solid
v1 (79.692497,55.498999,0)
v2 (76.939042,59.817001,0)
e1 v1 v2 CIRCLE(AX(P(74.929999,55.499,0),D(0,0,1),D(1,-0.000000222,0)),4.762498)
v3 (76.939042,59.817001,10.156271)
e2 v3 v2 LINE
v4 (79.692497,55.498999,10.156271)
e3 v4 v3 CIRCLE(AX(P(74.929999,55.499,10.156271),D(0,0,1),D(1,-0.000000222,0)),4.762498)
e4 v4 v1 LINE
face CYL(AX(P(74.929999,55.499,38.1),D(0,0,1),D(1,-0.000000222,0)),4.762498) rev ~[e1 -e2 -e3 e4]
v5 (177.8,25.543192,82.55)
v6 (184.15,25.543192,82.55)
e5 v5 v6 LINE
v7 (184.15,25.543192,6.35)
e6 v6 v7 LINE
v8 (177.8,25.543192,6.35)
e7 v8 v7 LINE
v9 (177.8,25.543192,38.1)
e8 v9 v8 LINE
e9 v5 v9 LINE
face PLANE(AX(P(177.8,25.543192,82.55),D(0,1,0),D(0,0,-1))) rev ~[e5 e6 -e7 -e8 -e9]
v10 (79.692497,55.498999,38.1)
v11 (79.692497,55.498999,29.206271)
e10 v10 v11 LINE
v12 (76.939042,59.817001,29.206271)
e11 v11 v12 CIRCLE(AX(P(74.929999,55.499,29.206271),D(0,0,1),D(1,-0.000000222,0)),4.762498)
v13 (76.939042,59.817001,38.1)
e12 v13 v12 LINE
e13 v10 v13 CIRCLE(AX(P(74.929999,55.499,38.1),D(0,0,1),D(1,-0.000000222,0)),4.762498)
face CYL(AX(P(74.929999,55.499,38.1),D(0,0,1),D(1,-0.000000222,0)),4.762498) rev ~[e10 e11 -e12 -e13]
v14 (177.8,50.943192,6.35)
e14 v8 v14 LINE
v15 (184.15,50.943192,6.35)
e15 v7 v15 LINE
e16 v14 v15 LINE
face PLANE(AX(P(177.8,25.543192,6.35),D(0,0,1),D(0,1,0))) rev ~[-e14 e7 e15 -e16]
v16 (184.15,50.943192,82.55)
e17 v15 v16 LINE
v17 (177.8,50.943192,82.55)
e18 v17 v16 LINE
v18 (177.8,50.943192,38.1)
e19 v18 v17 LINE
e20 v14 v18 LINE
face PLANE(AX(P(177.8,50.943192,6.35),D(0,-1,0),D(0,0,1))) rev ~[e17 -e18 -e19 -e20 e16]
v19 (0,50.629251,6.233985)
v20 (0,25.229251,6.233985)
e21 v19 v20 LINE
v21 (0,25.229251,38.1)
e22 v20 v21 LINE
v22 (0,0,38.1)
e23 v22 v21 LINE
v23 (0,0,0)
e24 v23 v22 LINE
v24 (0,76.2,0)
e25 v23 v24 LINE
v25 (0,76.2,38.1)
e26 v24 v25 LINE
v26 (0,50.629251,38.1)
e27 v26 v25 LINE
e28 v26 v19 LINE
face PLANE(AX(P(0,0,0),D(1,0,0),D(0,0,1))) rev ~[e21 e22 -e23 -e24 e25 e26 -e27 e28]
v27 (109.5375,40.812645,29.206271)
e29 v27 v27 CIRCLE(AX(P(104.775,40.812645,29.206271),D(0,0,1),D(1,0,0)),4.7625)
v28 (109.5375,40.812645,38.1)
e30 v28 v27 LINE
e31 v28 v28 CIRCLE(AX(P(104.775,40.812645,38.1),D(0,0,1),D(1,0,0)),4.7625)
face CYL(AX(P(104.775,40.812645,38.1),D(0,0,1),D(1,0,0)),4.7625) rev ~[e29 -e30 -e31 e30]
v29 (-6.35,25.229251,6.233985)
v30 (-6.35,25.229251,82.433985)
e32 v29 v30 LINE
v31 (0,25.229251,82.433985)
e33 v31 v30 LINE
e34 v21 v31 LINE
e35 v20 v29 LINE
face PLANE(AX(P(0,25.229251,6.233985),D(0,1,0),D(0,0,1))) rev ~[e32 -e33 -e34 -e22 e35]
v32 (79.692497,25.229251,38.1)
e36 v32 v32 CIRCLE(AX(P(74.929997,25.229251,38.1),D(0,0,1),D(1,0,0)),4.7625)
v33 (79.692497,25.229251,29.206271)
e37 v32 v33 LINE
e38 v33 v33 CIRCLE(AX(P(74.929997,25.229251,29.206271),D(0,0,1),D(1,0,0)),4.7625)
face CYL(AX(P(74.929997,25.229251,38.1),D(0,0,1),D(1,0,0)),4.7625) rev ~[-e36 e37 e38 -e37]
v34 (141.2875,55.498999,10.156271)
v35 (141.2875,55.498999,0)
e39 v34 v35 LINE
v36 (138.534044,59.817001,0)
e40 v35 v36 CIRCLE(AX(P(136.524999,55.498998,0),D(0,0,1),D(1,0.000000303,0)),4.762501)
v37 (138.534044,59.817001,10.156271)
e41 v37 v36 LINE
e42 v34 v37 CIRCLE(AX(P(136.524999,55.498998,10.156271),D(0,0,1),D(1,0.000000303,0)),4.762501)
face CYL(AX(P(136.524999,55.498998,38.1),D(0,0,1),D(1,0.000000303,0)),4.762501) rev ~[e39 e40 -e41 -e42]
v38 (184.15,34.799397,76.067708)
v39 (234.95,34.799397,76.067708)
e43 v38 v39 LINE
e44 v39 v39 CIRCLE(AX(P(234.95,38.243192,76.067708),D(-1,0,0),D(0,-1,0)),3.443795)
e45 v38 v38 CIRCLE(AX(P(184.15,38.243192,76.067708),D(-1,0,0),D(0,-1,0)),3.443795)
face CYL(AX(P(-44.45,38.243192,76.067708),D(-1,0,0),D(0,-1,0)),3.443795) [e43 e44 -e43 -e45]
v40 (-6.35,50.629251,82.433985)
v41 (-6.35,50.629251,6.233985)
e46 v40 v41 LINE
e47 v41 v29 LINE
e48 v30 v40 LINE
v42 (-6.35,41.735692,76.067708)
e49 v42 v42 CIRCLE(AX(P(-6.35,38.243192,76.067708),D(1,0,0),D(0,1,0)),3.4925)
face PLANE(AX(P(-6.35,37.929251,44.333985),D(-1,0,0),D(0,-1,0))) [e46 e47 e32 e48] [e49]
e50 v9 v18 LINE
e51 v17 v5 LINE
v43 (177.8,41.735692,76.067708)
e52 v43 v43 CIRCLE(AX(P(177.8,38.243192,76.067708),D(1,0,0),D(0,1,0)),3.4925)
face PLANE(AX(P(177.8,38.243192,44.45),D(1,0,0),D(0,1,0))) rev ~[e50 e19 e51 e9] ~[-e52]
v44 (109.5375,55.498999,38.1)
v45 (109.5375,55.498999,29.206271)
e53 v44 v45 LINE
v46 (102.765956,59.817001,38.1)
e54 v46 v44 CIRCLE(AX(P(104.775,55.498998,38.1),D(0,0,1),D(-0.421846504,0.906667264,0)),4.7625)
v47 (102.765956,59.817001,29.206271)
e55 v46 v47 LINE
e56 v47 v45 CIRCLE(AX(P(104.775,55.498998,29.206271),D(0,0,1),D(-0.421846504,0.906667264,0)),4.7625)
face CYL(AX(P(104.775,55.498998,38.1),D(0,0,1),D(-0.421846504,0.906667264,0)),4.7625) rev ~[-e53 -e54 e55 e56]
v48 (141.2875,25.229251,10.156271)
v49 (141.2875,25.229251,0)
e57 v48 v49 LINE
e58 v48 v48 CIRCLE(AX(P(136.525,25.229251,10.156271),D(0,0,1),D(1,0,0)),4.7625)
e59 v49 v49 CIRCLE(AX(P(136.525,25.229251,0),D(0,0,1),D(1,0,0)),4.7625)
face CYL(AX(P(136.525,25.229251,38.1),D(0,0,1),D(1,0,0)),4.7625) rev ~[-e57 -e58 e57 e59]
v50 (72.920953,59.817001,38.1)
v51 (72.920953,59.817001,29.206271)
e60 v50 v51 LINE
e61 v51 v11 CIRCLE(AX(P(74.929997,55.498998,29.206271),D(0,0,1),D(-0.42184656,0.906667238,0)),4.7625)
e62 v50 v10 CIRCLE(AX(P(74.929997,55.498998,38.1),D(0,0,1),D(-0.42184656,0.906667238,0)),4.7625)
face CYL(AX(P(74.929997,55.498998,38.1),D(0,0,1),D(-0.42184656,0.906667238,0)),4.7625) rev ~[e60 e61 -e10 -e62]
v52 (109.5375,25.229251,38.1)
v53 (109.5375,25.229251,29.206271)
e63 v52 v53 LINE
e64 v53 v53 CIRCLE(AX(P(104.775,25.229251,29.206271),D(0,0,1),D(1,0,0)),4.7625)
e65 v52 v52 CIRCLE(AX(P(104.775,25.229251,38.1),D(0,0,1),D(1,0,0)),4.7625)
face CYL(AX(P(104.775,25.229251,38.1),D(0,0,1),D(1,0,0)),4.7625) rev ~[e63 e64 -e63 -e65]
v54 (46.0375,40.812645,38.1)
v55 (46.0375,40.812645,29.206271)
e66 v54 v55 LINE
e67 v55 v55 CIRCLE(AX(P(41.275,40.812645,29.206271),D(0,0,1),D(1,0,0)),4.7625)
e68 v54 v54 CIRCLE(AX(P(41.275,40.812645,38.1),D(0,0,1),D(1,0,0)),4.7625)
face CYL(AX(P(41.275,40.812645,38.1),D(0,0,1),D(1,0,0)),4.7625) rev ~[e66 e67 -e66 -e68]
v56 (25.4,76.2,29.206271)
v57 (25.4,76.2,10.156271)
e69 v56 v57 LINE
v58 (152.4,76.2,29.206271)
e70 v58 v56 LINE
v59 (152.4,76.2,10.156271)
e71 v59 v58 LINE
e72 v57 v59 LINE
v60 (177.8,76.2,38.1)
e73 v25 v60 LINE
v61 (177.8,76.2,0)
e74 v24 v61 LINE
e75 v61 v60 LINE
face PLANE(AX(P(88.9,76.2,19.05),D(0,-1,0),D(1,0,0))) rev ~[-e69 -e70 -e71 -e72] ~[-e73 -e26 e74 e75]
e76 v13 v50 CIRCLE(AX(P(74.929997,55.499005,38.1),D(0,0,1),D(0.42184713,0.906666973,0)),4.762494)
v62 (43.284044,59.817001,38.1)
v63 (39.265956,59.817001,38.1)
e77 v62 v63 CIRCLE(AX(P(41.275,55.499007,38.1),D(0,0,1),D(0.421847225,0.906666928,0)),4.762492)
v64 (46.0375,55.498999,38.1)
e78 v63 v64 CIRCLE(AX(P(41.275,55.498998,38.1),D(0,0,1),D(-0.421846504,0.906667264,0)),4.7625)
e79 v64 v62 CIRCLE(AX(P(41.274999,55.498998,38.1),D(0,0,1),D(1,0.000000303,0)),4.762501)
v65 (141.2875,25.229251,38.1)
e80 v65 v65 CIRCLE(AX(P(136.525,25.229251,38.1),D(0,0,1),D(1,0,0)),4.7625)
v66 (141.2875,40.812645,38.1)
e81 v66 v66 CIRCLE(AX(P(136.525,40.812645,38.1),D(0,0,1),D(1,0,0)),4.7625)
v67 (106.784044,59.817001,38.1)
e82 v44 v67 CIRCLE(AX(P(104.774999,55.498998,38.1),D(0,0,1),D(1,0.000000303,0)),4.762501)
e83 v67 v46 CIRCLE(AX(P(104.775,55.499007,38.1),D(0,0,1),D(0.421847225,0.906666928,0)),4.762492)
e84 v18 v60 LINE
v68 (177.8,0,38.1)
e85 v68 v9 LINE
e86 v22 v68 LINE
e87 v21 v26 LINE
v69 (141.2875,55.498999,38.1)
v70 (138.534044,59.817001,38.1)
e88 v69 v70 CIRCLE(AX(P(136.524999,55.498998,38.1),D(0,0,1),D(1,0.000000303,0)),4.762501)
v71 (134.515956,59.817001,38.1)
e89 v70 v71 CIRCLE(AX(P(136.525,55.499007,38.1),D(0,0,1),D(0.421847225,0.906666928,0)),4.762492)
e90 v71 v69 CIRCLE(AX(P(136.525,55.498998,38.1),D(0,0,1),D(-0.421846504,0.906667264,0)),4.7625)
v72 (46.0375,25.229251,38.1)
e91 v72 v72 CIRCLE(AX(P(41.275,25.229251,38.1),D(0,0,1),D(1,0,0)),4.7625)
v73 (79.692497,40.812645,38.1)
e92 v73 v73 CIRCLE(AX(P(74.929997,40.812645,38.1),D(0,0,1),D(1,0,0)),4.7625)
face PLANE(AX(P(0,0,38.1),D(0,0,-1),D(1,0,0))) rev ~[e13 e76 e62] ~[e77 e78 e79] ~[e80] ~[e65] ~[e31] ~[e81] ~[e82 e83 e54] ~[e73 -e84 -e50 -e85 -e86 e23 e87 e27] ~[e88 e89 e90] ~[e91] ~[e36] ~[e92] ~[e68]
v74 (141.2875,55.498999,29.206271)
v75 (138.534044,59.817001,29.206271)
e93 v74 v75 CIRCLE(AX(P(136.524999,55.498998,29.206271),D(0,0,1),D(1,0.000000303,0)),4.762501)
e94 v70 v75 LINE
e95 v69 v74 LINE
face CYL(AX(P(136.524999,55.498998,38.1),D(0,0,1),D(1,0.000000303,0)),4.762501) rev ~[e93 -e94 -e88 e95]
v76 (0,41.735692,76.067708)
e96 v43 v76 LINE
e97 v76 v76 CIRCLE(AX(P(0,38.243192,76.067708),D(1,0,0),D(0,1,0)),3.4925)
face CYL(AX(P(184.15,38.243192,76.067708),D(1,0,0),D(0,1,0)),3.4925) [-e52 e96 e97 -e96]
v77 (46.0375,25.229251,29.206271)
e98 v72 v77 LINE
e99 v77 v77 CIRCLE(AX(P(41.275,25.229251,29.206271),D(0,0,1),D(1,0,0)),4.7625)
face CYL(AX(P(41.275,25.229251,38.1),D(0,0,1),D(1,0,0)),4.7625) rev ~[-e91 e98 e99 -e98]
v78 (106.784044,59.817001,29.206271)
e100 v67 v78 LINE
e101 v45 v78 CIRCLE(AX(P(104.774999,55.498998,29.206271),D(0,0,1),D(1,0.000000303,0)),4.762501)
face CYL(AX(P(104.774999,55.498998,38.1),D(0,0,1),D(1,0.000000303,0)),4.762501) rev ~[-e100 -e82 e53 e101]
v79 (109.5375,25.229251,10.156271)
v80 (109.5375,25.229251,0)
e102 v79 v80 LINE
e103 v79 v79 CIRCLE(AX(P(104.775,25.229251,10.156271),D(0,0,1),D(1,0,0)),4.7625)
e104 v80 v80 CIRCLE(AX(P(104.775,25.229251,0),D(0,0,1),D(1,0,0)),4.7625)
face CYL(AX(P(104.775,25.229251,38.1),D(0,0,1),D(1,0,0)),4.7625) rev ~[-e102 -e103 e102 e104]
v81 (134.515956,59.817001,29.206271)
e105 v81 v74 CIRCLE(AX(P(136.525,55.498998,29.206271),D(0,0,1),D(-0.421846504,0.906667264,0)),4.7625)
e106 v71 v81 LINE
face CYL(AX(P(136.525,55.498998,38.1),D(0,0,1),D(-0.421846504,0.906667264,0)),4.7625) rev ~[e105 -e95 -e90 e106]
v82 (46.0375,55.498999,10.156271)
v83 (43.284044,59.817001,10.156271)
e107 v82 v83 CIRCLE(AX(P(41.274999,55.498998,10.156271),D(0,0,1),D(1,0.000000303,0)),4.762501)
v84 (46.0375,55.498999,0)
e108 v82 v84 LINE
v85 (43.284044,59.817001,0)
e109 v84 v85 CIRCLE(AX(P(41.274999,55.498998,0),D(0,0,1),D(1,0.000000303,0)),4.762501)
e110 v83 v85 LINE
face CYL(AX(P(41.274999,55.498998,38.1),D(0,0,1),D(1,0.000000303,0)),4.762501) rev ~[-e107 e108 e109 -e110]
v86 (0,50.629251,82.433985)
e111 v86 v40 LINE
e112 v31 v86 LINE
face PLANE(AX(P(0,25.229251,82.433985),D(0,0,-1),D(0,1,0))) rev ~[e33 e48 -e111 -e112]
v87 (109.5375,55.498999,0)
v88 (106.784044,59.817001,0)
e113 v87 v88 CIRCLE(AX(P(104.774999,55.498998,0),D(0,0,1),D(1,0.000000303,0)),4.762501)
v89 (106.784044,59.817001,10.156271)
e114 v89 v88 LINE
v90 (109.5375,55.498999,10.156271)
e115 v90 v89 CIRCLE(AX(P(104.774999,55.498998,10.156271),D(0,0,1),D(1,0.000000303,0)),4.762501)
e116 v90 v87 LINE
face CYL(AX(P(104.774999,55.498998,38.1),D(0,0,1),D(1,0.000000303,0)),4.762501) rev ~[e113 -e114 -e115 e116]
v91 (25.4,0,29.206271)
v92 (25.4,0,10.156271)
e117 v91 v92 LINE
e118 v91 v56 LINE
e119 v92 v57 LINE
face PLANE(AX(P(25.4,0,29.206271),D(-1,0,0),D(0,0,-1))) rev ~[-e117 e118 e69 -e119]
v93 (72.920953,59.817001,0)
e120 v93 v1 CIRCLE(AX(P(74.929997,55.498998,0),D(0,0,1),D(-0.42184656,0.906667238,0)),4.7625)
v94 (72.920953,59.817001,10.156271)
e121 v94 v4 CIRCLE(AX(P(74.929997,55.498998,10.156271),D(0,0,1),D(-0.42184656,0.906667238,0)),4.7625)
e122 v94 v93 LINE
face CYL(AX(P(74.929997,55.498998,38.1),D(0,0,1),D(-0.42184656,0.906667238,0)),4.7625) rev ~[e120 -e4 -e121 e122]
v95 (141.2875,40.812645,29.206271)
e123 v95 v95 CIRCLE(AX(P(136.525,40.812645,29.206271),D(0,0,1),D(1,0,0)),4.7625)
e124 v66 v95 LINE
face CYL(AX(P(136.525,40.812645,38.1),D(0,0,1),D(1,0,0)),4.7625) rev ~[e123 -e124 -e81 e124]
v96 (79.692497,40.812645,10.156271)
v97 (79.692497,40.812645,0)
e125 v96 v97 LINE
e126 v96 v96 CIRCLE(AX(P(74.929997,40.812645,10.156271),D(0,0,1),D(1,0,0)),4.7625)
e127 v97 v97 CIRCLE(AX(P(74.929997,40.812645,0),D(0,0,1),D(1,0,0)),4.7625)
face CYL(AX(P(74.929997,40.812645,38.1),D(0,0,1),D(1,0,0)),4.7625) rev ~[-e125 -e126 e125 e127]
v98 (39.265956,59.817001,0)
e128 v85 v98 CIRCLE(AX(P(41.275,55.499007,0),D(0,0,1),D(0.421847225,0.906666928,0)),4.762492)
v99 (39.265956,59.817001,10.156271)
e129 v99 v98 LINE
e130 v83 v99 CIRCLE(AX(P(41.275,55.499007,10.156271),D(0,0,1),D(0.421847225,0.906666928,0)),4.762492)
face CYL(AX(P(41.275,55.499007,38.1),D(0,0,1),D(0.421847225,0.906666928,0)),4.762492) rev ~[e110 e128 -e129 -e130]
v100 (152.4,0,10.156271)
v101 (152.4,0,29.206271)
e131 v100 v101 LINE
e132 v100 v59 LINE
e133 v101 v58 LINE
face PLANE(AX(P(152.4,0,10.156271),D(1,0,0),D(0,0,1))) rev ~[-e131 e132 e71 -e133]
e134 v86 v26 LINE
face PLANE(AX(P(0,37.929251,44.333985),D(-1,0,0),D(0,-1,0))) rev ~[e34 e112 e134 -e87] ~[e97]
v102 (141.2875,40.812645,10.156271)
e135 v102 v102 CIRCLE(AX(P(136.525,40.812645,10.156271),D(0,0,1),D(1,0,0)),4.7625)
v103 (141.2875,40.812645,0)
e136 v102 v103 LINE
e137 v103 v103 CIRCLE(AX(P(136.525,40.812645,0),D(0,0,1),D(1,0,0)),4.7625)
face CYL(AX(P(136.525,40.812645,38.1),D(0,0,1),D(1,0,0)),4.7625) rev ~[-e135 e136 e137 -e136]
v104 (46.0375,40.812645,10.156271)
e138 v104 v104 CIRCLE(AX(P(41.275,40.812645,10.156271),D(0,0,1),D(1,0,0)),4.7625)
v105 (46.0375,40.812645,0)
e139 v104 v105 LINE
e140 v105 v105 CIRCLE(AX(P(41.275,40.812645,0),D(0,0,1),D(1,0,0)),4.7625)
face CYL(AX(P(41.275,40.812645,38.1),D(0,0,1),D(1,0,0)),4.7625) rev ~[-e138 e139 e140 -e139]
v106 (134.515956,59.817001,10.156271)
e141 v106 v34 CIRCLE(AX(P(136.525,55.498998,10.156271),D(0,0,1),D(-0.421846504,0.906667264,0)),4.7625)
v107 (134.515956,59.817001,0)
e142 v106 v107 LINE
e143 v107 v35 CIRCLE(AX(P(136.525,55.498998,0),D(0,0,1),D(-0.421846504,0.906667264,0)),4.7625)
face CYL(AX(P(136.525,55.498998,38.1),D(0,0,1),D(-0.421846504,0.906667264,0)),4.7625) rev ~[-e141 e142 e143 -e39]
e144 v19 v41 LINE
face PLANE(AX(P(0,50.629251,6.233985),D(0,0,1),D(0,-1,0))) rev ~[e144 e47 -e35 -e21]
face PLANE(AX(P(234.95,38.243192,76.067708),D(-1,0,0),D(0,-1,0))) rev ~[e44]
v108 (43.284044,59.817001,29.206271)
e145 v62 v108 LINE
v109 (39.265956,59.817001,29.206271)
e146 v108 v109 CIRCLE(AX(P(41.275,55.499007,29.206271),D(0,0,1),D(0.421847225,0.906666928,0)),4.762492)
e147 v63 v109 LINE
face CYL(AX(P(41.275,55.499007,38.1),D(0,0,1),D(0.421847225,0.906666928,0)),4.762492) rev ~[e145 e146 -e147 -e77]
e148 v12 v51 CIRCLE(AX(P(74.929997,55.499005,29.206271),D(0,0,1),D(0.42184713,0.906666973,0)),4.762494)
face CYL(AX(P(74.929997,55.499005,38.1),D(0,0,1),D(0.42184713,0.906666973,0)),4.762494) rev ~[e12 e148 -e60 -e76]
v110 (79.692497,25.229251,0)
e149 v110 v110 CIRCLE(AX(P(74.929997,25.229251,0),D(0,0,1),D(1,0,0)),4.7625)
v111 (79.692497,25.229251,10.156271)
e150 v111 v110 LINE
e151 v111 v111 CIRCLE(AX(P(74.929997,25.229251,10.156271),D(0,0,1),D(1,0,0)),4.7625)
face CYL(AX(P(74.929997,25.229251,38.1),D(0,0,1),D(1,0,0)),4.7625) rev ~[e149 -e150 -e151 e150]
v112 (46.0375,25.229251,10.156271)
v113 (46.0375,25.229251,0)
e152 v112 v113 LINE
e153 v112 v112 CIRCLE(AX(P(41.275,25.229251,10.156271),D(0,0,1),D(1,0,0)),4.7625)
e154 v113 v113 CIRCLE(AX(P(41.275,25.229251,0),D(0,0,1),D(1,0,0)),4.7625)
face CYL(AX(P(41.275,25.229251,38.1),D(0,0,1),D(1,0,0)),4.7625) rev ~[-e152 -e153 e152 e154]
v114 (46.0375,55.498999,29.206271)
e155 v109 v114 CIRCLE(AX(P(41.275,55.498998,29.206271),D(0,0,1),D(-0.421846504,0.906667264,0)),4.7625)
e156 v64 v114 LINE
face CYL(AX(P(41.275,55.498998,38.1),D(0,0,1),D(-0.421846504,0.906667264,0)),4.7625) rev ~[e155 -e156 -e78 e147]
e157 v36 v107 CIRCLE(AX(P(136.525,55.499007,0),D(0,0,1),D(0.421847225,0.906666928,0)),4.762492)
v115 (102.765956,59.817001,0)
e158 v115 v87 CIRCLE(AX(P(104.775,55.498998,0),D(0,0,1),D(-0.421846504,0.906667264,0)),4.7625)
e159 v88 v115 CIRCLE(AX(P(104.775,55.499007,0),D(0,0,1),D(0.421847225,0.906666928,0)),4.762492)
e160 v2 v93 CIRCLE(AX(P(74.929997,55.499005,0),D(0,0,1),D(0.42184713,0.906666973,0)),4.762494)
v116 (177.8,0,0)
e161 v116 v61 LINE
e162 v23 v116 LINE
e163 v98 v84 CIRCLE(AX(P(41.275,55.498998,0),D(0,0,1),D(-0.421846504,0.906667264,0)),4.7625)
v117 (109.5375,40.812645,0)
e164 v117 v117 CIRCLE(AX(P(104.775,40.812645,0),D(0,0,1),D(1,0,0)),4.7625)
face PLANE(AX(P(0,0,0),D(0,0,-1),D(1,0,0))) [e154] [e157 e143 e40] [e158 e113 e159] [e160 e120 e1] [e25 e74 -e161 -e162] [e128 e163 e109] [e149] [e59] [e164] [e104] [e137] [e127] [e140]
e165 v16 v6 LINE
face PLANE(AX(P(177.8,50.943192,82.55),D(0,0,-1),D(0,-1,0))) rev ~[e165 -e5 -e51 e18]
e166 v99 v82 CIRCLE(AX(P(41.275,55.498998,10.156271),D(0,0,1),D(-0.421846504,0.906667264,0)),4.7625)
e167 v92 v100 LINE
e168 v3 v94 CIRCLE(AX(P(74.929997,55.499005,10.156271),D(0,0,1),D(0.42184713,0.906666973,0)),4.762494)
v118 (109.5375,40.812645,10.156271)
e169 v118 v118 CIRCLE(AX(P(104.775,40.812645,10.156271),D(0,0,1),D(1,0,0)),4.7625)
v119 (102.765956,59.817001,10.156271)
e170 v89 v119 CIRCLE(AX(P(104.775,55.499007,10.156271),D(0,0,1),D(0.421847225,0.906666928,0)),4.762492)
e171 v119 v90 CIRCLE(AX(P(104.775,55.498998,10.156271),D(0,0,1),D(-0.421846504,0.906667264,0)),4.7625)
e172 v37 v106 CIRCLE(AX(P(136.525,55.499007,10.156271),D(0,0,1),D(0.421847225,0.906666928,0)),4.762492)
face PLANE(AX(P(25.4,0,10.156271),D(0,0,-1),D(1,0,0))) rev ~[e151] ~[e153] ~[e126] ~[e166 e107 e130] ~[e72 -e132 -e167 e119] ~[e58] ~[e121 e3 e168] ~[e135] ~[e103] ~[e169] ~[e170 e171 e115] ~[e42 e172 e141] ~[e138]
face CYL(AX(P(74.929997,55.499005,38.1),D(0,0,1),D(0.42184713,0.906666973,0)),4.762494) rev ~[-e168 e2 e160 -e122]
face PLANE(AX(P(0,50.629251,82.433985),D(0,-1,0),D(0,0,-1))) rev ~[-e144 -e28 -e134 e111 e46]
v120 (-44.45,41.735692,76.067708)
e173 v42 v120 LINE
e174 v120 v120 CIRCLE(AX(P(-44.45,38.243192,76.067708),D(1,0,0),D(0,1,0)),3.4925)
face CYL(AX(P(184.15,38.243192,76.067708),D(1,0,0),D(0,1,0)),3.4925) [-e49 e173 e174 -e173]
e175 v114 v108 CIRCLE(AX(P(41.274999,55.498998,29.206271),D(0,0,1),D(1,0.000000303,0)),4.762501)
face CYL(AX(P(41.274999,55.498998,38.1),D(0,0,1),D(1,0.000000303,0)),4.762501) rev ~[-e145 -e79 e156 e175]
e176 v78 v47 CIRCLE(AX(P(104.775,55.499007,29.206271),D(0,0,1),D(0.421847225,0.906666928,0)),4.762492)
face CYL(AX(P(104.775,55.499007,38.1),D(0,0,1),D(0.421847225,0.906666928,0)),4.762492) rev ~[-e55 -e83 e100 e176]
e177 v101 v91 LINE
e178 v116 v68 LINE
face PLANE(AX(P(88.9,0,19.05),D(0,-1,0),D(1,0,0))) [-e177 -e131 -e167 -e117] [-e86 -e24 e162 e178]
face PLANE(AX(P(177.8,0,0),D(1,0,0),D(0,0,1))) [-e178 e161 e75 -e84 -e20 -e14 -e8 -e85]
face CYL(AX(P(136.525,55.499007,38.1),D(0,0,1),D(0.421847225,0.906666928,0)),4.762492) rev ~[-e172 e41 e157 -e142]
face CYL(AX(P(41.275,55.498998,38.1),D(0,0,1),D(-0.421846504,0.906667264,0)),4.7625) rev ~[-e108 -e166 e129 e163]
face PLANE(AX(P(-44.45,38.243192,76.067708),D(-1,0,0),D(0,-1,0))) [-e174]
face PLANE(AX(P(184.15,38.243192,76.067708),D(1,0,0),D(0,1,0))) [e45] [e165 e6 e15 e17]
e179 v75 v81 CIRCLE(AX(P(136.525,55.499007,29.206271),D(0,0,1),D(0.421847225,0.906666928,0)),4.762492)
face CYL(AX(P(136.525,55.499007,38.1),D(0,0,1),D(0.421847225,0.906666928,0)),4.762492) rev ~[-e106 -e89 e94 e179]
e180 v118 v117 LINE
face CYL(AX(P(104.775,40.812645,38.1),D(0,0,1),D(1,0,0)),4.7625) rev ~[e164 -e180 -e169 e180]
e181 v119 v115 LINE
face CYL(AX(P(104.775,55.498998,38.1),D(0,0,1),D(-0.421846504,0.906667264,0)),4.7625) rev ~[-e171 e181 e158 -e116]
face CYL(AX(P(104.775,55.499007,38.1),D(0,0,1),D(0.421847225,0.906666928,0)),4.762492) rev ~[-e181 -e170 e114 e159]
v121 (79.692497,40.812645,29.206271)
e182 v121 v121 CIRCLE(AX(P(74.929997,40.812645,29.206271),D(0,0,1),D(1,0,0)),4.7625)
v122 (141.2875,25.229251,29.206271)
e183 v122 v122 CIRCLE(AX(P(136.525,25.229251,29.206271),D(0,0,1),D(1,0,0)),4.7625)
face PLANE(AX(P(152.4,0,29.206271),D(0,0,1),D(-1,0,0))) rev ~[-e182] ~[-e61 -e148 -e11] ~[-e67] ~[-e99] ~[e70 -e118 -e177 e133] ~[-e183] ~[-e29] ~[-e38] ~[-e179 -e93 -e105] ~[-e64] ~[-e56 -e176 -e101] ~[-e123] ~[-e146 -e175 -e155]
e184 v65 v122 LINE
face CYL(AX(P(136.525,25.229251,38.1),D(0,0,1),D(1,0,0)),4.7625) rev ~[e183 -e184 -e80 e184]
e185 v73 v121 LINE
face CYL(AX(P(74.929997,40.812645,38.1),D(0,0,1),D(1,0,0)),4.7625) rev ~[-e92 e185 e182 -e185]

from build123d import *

# Parameters (mm, degrees)
F0_W      = 177.8
F0_H      = 38.1
F1_DEPTH  = 76.2
F3_DEPTH  = 6.35
F5_DEPTH  = 6.35
F7_DEPTH  = 76.2
F8_R      = 3.4925
F9_DEPTH  = 228.6
F10_R     = 4.7625
F11_DEPTH = 38.1
F12_R     = 3.443795
F13_DEPTH = 279.4


with BuildPart() as f1:
    # F0 (on Front) → F1 (new body)
    with BuildSketch(Plane.XZ):
        with Locations((88.9, 19.05)):
            Rectangle(F0_W, F0_H)
    extrude(amount=-F1_DEPTH)

    # F2 (on face) → F3 (join)
    with BuildSketch(Plane.YZ.offset(177.8)):
        Polygon((25.543192, 82.55), (25.543192, 6.35), (38.1, 6.35), (50.943192, 6.35), (50.943192, 82.55), align=None)
    extrude(amount=F3_DEPTH)

    # F4 (on face) → F5 (join)
    with BuildSketch(Plane(origin=(0, 0, 0), x_dir=(0, -1, 0), z_dir=(-1, 0, 0))):
        Polygon((-50.629251, 82.433985), (-50.629251, 6.233985), (-38.072443, 6.233985), (-25.229251, 6.233985), (-25.229251, 82.433985), align=None)
    extrude(amount=F5_DEPTH)

    # F6 (on face) → F7 (cut)
    with BuildSketch(Plane.XZ):
        Polygon((25.4, 29.206271), (25.4, 19.681271), (25.4, 10.156271), (152.4, 10.156271), (152.4, 19.681271), (152.4, 29.206271), align=None)
    extrude(amount=-F7_DEPTH, mode=Mode.SUBTRACT)

    # F8 (on face) → F9 (join)
    with BuildSketch(Plane.YZ.offset(184.15)):
        with Locations((38.243192, 76.067708)):
            Circle(F8_R)
    extrude(amount=-F9_DEPTH)

    # F10 (on face) → F11 (cut)
    with BuildSketch(Plane.XY.offset(38.1)):
        with BuildLine():
            ThreePointArc((43.284044, 59.817001), (41.275, 60.261499), (39.265956, 59.817001))
            Line((39.265956, 59.817001), (43.284044, 59.817001))
        make_face()
        with BuildLine():
            ThreePointArc((138.534044, 59.817001), (136.525, 60.261499), (134.515956, 59.817001))
            Line((134.515956, 59.817001), (138.534044, 59.817001))
        make_face()
        with BuildLine():
            Line((138.534044, 59.817001), (134.515956, 59.817001))
            ThreePointArc((134.515956, 59.817001), (133.964401, 51.483436), (141.2875, 55.498999))
            ThreePointArc((141.2875, 55.498999), (140.540562, 58.059597), (138.534044, 59.817001))
        make_face()
        with BuildLine():
            ThreePointArc((106.784044, 59.817001), (104.775, 60.261499), (102.765956, 59.817001))
            Line((102.765956, 59.817001), (106.784044, 59.817001))
        make_face()
        with BuildLine():
            Line((106.784044, 59.817001), (102.765956, 59.817001))
            ThreePointArc((102.765956, 59.817001), (102.214401, 51.483436), (109.5375, 55.498999))
            ThreePointArc((109.5375, 55.498999), (108.790562, 58.059597), (106.784044, 59.817001))
        make_face()
        with BuildLine():
            ThreePointArc((76.939042, 59.817001), (74.929997, 60.261499), (72.920953, 59.817001))
            Line((72.920953, 59.817001), (76.939042, 59.817001))
        make_face()
        with BuildLine():
            Line((76.939042, 59.817001), (72.920953, 59.817001))
            ThreePointArc((72.920953, 59.817001), (72.369399, 51.483436), (79.692497, 55.498999))
            ThreePointArc((79.692497, 55.498999), (78.94556, 58.059597), (76.939042, 59.817001))
        make_face()
        with BuildLine():
            Line((43.284044, 59.817001), (39.265956, 59.817001))
            ThreePointArc((39.265956, 59.817001), (38.714401, 51.483436), (46.0375, 55.498999))
            ThreePointArc((46.0375, 55.498999), (45.290562, 58.059597), (43.284044, 59.817001))
        make_face()
        with Locations((41.275, 40.812645)):
            Circle(F10_R)
        with Locations((74.929997, 40.812645)):
            Circle(F10_R)
        with Locations((104.775, 40.812645)):
            Circle(F10_R)
        with Locations((136.525, 40.812645)):
            Circle(F10_R)
        with Locations((41.275, 25.229251)):
            Circle(F10_R)
        with Locations((74.929997, 25.229251)):
            Circle(F10_R)
        with Locations((104.775, 25.229251)):
            Circle(F10_R)
        with Locations((136.525, 25.229251)):
            Circle(F10_R)
    extrude(amount=-F11_DEPTH, mode=Mode.SUBTRACT)

    # F12 (on face) → F13 (join)
    with BuildSketch(Plane(origin=(-44.45, 0, 0), x_dir=(0, -1, 0), z_dir=(-1, 0, 0))):
        with Locations((-38.243192, 76.067708)):
            Circle(F12_R)
    extrude(amount=-F13_DEPTH)


solid = f1.part
